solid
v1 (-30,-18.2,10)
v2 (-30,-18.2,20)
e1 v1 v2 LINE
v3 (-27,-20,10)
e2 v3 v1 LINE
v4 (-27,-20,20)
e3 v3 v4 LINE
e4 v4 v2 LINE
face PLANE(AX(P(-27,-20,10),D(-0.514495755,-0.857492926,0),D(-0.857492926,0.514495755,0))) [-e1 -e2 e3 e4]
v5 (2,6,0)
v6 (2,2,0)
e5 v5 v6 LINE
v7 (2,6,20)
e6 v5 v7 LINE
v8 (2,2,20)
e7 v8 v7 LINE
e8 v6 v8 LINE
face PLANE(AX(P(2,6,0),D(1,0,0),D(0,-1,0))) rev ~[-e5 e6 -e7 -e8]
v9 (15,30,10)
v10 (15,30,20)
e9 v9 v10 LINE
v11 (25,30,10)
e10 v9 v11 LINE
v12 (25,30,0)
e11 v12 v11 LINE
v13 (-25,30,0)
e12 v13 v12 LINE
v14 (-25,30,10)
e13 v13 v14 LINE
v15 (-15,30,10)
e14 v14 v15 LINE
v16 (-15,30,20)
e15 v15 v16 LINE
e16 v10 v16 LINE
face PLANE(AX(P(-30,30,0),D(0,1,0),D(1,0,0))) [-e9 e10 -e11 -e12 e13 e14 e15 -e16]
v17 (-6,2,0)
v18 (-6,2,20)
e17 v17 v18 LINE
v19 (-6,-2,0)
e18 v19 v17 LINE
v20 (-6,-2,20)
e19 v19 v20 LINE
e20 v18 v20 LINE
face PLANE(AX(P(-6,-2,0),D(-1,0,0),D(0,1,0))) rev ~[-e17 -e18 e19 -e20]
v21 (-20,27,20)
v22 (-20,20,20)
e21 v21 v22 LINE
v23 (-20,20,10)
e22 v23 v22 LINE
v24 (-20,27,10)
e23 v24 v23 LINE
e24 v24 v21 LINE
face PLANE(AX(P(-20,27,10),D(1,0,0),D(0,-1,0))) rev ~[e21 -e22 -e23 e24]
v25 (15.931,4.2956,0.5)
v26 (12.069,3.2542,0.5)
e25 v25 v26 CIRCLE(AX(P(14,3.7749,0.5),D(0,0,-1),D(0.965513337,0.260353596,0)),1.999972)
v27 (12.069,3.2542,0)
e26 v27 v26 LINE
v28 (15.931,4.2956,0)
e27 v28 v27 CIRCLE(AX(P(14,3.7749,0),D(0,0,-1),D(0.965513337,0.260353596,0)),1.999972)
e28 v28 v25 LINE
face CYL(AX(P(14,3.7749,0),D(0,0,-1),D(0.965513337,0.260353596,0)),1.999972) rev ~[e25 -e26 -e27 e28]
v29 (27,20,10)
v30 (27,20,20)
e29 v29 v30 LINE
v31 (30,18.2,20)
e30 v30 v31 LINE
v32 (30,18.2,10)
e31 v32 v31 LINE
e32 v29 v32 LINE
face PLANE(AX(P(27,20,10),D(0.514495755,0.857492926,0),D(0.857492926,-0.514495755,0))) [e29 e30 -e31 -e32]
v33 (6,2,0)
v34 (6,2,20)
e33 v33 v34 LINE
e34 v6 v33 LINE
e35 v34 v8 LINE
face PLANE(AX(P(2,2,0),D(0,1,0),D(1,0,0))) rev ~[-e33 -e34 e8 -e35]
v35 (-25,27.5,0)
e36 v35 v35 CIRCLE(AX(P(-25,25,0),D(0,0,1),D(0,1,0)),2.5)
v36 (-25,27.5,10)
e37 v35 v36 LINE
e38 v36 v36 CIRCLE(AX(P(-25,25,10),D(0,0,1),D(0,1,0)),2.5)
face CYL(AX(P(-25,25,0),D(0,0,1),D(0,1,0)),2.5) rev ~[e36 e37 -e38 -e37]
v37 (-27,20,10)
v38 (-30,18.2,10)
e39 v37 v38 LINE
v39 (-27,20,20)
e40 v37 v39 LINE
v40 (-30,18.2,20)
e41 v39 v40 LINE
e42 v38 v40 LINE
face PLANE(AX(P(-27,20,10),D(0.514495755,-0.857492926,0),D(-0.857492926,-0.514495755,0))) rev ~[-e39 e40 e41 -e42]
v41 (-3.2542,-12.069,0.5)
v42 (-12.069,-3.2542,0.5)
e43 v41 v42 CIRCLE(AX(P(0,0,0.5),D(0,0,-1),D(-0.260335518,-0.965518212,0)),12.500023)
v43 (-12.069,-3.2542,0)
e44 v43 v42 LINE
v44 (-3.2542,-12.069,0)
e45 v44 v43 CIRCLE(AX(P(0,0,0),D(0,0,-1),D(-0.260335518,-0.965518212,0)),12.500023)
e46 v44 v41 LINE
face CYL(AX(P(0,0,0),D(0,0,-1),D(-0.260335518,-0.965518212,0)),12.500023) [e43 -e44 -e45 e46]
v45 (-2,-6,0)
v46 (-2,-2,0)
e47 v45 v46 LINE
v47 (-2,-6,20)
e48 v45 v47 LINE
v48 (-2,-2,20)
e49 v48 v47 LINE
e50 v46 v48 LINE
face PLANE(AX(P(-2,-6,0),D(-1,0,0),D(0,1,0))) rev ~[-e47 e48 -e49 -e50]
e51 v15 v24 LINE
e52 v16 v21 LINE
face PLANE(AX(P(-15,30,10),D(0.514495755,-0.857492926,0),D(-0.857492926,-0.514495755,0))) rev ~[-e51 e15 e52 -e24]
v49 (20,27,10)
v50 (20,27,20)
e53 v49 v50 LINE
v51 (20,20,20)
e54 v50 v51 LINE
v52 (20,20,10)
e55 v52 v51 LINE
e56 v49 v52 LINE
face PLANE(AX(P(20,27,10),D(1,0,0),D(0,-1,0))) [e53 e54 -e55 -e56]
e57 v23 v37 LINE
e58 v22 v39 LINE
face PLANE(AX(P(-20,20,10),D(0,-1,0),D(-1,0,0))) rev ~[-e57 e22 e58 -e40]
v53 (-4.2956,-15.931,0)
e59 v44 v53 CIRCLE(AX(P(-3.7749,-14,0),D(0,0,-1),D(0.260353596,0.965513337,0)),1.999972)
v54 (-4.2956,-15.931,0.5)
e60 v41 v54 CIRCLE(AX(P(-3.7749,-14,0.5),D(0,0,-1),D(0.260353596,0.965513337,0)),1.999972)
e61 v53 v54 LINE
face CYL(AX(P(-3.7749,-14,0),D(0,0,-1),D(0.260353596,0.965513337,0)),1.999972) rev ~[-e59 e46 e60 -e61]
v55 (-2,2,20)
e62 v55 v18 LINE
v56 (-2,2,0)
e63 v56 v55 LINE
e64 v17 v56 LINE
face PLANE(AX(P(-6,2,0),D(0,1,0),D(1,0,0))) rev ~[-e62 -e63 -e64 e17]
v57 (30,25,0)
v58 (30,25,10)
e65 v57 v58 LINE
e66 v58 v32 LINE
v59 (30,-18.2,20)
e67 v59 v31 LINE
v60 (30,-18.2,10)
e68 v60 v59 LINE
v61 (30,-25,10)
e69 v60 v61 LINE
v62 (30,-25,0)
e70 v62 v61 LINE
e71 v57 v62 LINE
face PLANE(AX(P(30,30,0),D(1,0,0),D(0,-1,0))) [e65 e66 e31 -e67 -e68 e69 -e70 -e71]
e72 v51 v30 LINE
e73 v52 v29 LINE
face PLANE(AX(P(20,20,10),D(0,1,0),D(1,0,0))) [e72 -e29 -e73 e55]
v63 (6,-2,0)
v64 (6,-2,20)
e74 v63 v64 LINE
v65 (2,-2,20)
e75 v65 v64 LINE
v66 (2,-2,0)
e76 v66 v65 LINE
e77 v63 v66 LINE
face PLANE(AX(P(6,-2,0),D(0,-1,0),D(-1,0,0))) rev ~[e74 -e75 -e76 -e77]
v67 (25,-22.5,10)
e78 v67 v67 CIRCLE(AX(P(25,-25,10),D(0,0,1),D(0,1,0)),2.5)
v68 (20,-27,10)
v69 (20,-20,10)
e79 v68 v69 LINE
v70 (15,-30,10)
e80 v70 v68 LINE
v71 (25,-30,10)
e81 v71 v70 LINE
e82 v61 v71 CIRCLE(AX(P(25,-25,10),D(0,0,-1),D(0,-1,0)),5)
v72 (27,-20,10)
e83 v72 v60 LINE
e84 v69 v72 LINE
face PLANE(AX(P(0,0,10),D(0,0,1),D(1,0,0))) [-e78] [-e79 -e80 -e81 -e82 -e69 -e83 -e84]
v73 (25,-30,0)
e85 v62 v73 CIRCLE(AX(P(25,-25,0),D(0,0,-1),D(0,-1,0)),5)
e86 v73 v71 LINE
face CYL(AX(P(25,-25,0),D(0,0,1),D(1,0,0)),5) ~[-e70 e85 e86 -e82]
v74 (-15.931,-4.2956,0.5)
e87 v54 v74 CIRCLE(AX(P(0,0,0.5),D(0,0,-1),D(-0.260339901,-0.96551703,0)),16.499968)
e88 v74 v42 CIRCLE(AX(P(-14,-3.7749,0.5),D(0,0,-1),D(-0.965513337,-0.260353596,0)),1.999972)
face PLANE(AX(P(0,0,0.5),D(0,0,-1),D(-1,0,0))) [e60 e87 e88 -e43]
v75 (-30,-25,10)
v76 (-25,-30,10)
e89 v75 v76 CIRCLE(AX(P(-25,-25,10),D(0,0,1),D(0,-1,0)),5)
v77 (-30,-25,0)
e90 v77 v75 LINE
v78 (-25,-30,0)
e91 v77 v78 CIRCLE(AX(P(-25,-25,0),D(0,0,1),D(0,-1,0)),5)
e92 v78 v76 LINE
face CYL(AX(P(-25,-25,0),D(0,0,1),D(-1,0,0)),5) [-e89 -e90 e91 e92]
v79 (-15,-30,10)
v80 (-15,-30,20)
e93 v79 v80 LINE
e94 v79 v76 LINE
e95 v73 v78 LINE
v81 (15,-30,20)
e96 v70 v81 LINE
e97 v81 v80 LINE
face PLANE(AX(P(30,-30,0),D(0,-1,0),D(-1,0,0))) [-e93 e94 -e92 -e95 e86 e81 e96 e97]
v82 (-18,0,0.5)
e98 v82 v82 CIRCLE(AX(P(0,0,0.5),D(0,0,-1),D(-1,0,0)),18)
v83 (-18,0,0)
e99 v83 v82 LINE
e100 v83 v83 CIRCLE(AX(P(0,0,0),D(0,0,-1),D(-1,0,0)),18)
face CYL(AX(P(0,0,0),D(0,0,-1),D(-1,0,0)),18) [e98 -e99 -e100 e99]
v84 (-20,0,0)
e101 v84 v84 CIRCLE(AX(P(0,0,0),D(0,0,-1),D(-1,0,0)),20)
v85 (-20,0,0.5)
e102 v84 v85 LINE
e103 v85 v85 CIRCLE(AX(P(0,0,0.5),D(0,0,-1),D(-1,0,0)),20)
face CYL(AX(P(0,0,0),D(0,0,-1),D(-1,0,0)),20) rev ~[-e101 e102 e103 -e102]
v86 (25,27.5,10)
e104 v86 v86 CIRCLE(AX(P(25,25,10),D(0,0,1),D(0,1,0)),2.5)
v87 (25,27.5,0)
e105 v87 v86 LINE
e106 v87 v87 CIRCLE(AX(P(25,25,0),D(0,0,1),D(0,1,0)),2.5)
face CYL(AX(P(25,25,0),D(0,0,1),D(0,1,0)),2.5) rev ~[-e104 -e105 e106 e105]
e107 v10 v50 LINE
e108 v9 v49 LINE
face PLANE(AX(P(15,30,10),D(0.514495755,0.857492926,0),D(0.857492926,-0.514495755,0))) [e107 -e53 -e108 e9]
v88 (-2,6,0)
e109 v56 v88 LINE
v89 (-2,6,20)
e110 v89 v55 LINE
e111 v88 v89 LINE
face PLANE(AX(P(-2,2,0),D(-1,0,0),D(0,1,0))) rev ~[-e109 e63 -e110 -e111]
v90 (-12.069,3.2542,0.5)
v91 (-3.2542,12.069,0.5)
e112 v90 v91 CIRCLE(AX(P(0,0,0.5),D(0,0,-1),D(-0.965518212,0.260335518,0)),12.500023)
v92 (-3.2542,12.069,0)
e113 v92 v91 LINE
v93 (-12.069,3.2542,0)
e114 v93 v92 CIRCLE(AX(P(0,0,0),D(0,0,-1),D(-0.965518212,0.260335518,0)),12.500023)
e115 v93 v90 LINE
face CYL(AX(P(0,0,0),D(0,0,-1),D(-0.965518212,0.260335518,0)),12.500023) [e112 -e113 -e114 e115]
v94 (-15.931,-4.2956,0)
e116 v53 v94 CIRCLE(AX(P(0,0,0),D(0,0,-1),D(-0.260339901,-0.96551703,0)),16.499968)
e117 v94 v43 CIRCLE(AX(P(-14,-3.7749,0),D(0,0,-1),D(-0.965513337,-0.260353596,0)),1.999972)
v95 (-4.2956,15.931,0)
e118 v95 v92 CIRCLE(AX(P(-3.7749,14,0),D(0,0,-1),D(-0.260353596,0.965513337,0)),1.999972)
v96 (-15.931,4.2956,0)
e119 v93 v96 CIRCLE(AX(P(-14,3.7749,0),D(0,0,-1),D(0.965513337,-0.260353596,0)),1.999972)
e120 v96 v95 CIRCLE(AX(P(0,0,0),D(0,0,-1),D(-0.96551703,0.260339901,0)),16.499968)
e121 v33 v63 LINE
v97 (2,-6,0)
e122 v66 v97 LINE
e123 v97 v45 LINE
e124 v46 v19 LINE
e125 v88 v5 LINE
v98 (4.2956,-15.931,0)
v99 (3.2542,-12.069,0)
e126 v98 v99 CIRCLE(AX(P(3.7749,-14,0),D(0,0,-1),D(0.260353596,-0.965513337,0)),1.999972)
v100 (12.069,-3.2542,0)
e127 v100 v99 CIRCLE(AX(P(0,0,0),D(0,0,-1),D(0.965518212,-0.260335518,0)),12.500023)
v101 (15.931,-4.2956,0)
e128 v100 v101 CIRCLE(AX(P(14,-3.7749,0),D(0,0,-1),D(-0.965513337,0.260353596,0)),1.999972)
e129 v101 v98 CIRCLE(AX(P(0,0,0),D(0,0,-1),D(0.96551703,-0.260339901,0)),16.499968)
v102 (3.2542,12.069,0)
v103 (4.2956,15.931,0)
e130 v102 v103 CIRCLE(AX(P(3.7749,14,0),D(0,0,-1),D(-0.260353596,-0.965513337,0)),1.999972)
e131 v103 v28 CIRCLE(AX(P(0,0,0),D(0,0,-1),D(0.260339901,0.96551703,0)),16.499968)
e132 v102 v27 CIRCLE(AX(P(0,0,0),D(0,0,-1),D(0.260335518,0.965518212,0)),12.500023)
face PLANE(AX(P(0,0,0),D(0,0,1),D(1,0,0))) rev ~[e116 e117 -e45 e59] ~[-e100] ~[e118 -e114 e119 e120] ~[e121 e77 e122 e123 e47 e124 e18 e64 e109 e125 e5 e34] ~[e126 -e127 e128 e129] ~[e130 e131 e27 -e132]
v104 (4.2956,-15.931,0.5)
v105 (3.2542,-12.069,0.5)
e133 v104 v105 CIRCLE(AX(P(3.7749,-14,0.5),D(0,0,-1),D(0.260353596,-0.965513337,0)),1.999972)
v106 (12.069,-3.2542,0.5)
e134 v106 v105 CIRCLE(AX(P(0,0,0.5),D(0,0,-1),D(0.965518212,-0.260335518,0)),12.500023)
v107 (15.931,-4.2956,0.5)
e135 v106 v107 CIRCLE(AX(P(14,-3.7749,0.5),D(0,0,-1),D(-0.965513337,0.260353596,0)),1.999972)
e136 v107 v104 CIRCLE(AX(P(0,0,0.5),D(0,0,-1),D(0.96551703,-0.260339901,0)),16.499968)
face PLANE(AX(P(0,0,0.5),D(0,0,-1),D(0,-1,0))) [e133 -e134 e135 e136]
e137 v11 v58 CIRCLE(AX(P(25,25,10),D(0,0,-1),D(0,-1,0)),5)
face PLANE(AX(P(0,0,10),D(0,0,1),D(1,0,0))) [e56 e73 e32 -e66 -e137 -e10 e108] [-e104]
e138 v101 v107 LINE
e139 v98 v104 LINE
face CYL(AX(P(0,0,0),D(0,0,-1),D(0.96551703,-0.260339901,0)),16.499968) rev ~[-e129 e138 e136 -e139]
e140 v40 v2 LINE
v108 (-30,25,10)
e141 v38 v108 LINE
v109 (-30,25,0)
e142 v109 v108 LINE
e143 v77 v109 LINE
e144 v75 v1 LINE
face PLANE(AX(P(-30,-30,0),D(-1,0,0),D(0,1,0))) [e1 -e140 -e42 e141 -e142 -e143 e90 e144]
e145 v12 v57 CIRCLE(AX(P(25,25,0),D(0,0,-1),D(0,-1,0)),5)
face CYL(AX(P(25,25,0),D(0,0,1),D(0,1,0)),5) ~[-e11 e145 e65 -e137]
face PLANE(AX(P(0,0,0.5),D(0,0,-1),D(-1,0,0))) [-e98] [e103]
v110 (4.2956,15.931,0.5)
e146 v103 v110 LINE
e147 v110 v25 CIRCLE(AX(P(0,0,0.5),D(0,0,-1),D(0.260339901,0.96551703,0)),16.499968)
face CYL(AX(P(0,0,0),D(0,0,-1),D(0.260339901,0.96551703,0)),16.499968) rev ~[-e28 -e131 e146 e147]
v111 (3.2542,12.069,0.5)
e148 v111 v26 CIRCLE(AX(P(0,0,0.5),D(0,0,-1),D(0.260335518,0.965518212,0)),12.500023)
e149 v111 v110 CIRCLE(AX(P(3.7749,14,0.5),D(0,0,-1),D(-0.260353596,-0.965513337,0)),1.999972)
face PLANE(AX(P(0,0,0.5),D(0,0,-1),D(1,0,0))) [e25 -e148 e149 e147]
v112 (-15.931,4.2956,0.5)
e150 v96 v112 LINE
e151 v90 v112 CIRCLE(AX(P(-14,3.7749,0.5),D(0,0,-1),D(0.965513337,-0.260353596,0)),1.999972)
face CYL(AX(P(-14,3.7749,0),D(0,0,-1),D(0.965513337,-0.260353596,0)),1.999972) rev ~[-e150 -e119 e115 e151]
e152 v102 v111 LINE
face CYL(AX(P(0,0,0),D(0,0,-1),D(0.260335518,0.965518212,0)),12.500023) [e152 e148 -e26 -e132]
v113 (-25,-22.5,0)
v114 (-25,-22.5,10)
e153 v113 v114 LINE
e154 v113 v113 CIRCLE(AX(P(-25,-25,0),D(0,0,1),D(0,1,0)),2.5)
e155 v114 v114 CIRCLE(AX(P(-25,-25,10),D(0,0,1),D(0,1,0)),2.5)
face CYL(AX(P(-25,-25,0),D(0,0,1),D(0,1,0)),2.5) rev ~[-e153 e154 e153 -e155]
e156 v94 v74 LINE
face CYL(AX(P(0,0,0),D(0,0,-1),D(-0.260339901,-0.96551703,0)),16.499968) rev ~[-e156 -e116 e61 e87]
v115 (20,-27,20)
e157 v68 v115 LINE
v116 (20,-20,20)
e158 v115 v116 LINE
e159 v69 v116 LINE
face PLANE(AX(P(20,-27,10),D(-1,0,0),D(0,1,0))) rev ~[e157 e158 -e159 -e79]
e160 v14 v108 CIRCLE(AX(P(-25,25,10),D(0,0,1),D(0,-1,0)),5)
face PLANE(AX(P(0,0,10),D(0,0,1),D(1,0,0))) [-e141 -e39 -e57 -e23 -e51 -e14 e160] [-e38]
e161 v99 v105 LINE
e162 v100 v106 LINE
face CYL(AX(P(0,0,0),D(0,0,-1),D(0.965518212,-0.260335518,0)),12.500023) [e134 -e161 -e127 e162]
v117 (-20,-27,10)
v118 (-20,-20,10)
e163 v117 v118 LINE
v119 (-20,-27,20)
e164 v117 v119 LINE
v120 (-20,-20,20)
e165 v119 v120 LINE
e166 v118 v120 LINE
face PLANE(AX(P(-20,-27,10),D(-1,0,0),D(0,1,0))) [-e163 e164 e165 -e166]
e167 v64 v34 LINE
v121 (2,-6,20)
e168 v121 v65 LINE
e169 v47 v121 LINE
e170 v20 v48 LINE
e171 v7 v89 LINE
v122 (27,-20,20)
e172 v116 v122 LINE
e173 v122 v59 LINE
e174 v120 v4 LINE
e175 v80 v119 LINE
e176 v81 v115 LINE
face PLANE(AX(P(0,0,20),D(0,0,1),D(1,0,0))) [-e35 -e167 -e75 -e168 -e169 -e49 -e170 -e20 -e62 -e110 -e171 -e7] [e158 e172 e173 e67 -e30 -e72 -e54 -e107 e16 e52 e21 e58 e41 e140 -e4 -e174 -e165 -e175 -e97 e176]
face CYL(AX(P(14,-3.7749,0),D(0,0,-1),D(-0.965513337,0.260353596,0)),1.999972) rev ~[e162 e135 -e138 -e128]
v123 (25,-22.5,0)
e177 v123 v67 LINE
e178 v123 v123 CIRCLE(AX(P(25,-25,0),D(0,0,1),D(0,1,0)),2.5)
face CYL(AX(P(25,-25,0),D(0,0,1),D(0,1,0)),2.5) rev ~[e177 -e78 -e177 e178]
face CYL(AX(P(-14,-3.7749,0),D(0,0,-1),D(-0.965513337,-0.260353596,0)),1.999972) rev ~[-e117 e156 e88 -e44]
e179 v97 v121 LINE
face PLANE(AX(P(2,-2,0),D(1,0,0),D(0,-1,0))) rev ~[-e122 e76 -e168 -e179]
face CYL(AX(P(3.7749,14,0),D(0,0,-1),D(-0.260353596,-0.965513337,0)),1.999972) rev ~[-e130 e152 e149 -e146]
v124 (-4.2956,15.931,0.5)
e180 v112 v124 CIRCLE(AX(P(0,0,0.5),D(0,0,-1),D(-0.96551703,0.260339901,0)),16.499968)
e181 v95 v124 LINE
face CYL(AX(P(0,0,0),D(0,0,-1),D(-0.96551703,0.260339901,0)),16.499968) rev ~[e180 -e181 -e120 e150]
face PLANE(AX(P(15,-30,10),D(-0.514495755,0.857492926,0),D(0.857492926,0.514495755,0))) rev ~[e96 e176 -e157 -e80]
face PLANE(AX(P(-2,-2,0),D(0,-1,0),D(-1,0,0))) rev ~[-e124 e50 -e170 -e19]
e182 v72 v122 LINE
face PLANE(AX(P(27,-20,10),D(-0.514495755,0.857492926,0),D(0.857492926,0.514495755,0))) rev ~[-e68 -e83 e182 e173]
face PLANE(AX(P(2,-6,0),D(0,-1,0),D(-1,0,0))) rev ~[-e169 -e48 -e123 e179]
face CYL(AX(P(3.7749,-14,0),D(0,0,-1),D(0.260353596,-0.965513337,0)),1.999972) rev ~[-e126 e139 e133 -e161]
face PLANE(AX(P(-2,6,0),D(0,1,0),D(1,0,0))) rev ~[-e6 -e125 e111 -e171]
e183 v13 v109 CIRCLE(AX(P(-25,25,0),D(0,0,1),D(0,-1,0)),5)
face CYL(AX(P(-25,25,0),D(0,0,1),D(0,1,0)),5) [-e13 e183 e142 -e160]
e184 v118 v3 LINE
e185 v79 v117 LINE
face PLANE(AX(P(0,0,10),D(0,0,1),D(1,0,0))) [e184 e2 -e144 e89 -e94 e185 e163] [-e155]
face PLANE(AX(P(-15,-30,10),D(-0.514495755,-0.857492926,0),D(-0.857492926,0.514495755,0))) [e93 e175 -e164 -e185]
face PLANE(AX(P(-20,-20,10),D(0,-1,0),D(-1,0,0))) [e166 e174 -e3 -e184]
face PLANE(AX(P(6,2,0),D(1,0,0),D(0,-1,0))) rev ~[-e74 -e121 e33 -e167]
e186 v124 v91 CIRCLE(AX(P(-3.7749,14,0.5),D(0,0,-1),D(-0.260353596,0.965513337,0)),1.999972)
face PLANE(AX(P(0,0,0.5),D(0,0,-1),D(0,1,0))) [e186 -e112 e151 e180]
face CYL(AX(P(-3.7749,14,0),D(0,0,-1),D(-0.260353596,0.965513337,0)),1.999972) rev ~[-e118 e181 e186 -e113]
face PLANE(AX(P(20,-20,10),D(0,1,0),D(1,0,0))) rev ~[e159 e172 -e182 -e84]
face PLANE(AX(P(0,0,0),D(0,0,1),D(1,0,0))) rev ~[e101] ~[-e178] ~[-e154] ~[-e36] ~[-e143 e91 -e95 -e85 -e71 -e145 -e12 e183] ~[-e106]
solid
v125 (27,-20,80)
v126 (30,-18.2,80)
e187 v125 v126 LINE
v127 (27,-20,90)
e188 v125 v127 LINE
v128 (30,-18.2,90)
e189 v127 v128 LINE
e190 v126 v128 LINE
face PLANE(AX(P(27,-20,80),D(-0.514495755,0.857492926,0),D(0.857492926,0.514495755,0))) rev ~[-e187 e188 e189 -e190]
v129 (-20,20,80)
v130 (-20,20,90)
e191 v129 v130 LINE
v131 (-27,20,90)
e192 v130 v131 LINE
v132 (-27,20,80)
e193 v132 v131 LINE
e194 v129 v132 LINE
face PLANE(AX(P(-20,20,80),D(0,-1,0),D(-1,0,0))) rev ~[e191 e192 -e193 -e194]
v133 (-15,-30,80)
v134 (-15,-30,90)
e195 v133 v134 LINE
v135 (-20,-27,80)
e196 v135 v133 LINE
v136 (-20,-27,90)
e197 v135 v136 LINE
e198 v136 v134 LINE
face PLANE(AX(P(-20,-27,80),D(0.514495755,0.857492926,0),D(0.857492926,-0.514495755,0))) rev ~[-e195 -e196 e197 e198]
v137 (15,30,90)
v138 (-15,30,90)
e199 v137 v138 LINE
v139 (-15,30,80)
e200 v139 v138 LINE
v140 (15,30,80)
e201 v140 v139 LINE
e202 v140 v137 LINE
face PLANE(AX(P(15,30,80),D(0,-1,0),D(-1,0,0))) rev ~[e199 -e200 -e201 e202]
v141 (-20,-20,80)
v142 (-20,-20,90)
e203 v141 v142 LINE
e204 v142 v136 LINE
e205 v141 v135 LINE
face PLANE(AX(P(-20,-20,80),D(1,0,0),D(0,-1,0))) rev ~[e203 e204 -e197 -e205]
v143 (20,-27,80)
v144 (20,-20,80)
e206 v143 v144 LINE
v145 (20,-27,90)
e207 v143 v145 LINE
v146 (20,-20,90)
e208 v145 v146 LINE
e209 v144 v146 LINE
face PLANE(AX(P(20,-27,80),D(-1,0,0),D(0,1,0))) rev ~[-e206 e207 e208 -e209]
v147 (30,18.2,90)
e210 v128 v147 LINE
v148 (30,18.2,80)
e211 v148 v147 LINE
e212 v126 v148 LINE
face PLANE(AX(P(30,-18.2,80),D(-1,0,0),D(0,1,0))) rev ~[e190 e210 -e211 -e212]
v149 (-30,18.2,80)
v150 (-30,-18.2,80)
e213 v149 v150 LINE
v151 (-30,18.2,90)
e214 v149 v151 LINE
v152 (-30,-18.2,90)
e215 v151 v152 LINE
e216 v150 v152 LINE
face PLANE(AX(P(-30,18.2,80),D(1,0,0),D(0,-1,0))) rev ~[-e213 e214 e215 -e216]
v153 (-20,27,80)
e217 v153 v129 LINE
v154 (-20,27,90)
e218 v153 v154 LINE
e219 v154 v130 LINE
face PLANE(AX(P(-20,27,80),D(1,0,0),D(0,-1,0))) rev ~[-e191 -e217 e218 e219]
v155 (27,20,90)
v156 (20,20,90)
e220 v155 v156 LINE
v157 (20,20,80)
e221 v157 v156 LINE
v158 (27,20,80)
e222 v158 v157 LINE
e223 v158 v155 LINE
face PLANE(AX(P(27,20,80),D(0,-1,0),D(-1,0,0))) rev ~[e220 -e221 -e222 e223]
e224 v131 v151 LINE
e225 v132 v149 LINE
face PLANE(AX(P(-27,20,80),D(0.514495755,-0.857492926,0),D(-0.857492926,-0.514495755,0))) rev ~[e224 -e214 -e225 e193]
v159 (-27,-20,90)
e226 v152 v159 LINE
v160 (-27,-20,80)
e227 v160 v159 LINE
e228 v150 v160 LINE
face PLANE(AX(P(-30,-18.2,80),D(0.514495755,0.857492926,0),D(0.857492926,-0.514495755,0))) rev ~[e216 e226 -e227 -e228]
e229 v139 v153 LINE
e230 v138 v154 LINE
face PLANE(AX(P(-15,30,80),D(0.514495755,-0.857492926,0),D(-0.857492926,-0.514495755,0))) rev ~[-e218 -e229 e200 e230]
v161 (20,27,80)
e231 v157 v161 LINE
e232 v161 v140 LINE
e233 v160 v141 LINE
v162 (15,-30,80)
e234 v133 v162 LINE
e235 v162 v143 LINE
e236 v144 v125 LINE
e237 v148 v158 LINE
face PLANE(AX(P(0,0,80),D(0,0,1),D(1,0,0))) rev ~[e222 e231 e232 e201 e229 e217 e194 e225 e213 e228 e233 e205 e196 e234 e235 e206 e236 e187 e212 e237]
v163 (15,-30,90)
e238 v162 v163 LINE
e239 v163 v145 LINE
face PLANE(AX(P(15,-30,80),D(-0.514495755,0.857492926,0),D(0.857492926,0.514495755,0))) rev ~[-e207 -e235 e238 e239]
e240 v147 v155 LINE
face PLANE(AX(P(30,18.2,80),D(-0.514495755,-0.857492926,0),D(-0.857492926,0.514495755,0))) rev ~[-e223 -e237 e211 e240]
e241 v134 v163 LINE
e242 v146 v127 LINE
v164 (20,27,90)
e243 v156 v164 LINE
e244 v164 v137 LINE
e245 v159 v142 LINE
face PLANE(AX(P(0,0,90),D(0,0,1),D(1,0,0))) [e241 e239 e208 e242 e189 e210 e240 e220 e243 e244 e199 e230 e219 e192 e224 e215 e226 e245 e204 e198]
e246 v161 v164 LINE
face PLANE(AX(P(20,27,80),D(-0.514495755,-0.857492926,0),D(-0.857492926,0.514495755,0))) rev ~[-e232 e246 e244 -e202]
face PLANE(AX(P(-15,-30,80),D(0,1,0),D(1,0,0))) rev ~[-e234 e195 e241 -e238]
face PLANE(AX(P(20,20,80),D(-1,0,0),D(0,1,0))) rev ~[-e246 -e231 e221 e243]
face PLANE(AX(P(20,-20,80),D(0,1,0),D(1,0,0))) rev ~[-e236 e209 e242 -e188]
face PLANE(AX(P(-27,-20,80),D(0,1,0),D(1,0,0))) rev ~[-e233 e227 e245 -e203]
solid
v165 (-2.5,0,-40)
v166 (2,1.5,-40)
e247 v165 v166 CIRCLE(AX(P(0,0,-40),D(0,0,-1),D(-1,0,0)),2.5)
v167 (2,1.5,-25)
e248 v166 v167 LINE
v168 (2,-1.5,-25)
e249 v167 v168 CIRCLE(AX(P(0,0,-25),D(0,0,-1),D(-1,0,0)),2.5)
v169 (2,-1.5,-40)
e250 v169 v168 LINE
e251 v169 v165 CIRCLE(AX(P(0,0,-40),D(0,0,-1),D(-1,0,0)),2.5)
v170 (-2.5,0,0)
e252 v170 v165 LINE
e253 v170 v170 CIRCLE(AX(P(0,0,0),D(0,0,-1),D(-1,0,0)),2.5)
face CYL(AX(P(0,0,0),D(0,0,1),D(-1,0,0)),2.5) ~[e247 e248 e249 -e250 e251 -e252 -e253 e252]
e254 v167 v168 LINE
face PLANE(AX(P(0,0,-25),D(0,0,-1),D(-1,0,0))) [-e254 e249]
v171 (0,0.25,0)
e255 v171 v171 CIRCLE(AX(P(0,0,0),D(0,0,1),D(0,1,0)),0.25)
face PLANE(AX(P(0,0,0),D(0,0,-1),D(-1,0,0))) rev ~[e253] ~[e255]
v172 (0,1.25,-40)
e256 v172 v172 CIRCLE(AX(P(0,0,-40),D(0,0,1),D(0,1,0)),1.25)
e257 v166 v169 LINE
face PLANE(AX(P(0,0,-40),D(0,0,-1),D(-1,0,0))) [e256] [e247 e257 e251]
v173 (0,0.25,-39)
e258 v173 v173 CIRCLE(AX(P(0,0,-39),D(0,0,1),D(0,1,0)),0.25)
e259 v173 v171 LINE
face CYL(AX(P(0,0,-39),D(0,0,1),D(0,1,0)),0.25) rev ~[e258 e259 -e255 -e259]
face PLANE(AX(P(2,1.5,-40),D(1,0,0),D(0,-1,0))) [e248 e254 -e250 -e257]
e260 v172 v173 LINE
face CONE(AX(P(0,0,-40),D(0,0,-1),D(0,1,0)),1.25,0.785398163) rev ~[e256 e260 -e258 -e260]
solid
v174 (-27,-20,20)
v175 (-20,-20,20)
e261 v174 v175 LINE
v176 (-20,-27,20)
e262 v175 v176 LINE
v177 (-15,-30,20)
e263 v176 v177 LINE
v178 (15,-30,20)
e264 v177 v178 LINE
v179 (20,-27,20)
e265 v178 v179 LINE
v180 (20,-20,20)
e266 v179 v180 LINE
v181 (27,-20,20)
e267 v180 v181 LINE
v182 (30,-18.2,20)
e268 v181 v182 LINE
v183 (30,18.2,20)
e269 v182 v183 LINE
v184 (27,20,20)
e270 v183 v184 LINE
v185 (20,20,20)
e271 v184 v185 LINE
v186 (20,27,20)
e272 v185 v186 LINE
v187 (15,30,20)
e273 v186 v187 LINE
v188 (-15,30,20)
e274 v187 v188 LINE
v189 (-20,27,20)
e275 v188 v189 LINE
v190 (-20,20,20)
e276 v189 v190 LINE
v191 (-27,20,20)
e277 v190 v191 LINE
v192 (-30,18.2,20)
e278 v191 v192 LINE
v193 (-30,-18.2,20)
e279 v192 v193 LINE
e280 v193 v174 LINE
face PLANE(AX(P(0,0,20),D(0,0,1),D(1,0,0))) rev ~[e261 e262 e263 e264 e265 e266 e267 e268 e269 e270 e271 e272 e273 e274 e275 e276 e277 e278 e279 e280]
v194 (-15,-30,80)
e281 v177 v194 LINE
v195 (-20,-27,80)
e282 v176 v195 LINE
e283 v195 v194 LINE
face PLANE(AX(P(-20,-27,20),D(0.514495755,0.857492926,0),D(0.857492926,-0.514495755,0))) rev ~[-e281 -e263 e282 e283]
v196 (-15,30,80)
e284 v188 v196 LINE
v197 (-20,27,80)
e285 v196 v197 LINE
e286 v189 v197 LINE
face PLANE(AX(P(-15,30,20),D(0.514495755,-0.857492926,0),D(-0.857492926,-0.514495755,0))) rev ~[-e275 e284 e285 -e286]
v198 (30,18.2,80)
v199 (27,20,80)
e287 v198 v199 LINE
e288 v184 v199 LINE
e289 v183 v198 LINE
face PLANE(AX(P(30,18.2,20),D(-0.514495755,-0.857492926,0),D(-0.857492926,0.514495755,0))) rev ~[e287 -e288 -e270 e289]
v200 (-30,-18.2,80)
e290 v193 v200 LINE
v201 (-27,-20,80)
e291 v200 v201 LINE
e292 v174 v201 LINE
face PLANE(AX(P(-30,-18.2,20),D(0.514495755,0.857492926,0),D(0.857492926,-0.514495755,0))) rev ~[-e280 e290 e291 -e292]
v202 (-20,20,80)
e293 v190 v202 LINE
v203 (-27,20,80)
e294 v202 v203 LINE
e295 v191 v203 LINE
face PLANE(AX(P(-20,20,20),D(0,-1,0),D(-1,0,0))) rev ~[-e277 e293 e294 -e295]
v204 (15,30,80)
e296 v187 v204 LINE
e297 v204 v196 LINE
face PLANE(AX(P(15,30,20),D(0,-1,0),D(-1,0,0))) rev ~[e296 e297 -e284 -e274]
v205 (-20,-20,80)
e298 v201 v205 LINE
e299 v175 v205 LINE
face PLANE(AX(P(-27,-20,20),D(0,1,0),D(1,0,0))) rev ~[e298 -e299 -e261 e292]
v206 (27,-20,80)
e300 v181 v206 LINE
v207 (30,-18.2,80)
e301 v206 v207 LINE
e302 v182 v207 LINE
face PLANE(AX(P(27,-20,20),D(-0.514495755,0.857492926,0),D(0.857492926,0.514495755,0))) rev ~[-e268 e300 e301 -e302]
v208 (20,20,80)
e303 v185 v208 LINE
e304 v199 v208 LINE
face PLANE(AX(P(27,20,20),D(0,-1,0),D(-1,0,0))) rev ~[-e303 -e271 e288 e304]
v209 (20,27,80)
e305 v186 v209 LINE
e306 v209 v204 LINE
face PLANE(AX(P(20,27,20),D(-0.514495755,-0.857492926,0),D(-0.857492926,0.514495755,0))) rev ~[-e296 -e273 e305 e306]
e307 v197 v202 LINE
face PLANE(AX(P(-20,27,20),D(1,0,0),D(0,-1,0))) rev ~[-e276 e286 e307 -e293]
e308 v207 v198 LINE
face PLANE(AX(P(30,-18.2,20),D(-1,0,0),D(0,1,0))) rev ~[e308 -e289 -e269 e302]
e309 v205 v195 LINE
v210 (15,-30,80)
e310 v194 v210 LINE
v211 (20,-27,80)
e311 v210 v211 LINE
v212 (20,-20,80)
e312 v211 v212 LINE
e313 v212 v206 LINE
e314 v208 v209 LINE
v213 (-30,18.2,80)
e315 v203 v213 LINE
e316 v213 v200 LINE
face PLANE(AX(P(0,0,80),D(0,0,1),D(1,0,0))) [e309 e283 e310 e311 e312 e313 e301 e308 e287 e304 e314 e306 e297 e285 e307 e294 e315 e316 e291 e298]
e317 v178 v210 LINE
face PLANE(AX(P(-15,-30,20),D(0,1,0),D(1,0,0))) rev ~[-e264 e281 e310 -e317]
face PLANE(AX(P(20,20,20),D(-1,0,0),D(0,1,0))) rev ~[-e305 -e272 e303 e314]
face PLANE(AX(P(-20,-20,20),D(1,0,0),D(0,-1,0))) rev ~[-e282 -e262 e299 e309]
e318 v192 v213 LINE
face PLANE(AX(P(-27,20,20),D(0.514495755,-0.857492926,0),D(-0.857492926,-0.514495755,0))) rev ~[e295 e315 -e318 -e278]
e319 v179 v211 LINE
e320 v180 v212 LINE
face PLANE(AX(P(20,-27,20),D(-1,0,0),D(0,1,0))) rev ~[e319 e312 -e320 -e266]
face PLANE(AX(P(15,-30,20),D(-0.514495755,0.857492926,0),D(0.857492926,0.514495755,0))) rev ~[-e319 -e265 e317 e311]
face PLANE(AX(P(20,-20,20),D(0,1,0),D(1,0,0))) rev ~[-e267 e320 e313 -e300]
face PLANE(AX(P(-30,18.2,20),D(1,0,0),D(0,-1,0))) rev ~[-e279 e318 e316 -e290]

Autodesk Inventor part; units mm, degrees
ref_plane "XZ Plane" through (0, 0, 0) normal (0, 1, 0) x (-1, 0, 0)
ref_plane "XY Plane" through (0, 0, 0) normal (0, 0, 1) x (1, 0, 0)
sketch "Sketch1" plane through (0, 0, 0) normal (0, 0, 1) x (1, 0, 0)
  line L0 (-30, 30) -> (30, 30)
  line L1 (30, 30) -> (30, -30)
  line L2 (30, -30) -> (-30, -30)
  line L3 (-30, -30) -> (-30, 30)
  line L4 (-30, 30) -> (30, -30) construction
  line L5 (30, 30) -> (-30, -30) construction
  point P0 (0, 0)
  dimension "d0" = 60
  dimension "d1" = 60
extrude "Extrusion1" add sketch "Sketch1" along normal blind 10
sketch "Sketch2" plane through (0, 0, 10) normal (0, 0, 1) x (1, 0, 0)
  line L0 (-30, -30) -> (30, -30) projected
  line L1 (30, -30) -> (30, 30) projected
  line L2 (30, 30) -> (-30, 30) projected
  line L3 (-30, 30) -> (-30, -30) projected
  line L4 (30, 30) -> (-30, 30) projected
  line L5 (0, 30) -> (-15, 30)
  line L6 (-15, 30) -> (-20, 27)
  line L7 (-20, 27) -> (-20, 20)
  line L8 (-20, 20) -> (-27, 20)
  line L9 (-27, 20) -> (-30, 18.2)
  line L10 (-30, 30) -> (-30, -30) projected
  line L11 (0, 30) -> (0, 0)
  line L12 (0, 0) -> (-30, 0)
  line L13 (15, 30) -> (20, 27)
  line L14 (20, 27) -> (20, 20)
  line L15 (20, 20) -> (27, 20)
  line L16 (27, 20) -> (30, 18.2)
  line L17 (0, -30) -> (-15, -30)
  line L18 (-15, -30) -> (-20, -27)
  line L19 (-20, -27) -> (-20, -20)
  line L20 (-20, -20) -> (-27, -20)
  line L21 (-27, -20) -> (-30, -18.2)
  line L22 (15, -30) -> (20, -27)
  line L23 (20, -27) -> (20, -20)
  line L24 (20, -20) -> (27, -20)
  line L25 (27, -20) -> (30, -18.2)
  dimension "d4" = 15
  dimension "d5" = 3
  dimension "d6" = 5
  dimension "d7" = 10
  dimension "d8" = 3
extrude "Extrusion2" add sketch "Sketch2" along normal blind 10 contours L18 L19 L20 L21 L3 L12 L11 L2 L13 L14 L15 L16 L1 L25 L24 L23 L22 L0 | L3 L9 L8 L7 L6 L2 L11 L12
sketch "Sketch3" plane through (0, 0, 20) normal (0, 0, 1) x (1, 0, 0)
  line L0 (-27, 20) -> (-30, 18.2) projected
  line L1 (-30, 18.2) -> (-30, -18.2) projected
  line L2 (-30, -18.2) -> (-27, -20) projected
  line L3 (-27, -20) -> (-20, -20) projected
  line L4 (-20, -20) -> (-20, -27) projected
  line L5 (-20, -27) -> (-15, -30) projected
  line L6 (-15, -30) -> (15, -30) projected
  line L7 (15, -30) -> (20, -27) projected
  line L8 (20, -27) -> (20, -20) projected
  line L9 (20, -20) -> (27, -20) projected
  line L10 (27, -20) -> (30, -18.2) projected
  line L11 (30, -18.2) -> (30, 18.2) projected
  line L12 (30, 18.2) -> (27, 20) projected
  line L13 (27, 20) -> (20, 20) projected
  line L14 (20, 20) -> (20, 27) projected
  line L15 (20, 27) -> (15, 30) projected
  line L16 (15, 30) -> (-15, 30) projected
  line L17 (-15, 30) -> (-20, 27) projected
  line L18 (-20, 27) -> (-20, 20) projected
  line L19 (-20, 20) -> (-27, 20) projected
  point P0 (0, 0)
extrude "Extrusion3" add sketch "Sketch3" along normal blind 60 separate body
sketch "Sketch4" plane through (0, 0, 80) normal (0, 0, 1) x (1, 0, 0)
  line L0 (-30, 18.2) -> (-30, -18.2) projected
  line L1 (-30, -18.2) -> (-27, -20) projected
  line L2 (-27, -20) -> (-20, -20) projected
  line L3 (-20, -20) -> (-20, -27) projected
  line L4 (-20, -27) -> (-15, -30) projected
  line L5 (-15, -30) -> (15, -30) projected
  line L6 (15, -30) -> (20, -27) projected
  line L7 (20, -27) -> (20, -20) projected
  line L8 (20, -20) -> (27, -20) projected
  line L9 (27, -20) -> (30, -18.2) projected
  line L10 (30, -18.2) -> (30, 18.2) projected
  line L11 (30, 18.2) -> (27, 20) projected
  line L12 (27, 20) -> (20, 20) projected
  line L13 (20, 20) -> (20, 27) projected
  line L14 (20, 27) -> (15, 30) projected
  line L15 (15, 30) -> (-15, 30) projected
  line L16 (-15, 30) -> (-20, 27) projected
  line L17 (-20, 27) -> (-20, 20) projected
  line L18 (-20, 20) -> (-27, 20) projected
  line L19 (-27, 20) -> (-30, 18.2) projected
  point P0 (0, 0)
extrude "Extrusion4" add sketch "Sketch4" along normal blind 10 separate body
fillet "Fillet1" radius 5 4 edges at (30, 30, 5) (30, -30, 5) (-30, 30, 5) (-30, -30, 5)
sketch "Sketch5" plane through (0, 0, 0) normal (0, 0, -1) x (-1, 0, 0)
  line L0 (-25, -25) -> (25, -25) construction
  line L1 (25, -25) -> (25, 25) construction
  line L2 (25, 25) -> (-25, 25) construction
  line L3 (-25, 25) -> (-25, -25) construction
  line L4 (-25, -25) -> (25, 25) construction
  line L5 (25, -25) -> (-25, 25) construction
  point P0 (0, 0)
  dimension "d16" = 50
  dimension "d17" = 50
hole "Hole1" at (-25, 25, 0) at (-25, -25, 0) at (25, 25, 0) at (25, -25, 0) direction (0, 0, 1) diameter 5 end through all bodies 1
sketch "Sketch6" plane through (0, 0, 0) normal (0, 0, -1) x (-1, 0, 0)
  circle A0 centre (0, 0) radius 20
  circle A1 centre (0, 0) radius 18
  dimension "d25" = 40
  dimension "d26" = 36
extrude "Extrusion5" cut sketch "Sketch6" against normal blind 0.5 bodies 1
sketch "Sketch7" plane through (0, 0, 0) normal (0, 0, -1) x (-1, 0, 0)
  circle A0 centre (0, 0) radius 2.5
  line L0 (-6, -2) -> (6, -2)
  line L1 (6, -2) -> (6, 2)
  line L2 (6, 2) -> (-6, 2)
  line L3 (-6, 2) -> (-6, -2)
  line L4 (-6, -2) -> (6, 2) construction
  line L5 (6, -2) -> (-6, 2) construction
  line L6 (-2, -6) -> (2, -6)
  line L7 (2, -6) -> (2, 6)
  line L8 (2, 6) -> (-2, 6)
  line L9 (-2, 6) -> (-2, -6)
  line L10 (-2, -6) -> (2, 6) construction
  line L11 (2, -6) -> (-2, 6) construction
  point P0 (2, 2)
  point P1 (-2, 2)
  point P2 (-2, -2)
  point P3 (2, -2)
  dimension "d29" = 5
  dimension "d30" = 12
  dimension "d31" = 4
  dimension "d32" = 4
  dimension "d33" = 12
extrude "Extrusion6" cut sketch "Sketch7" against normal through all bodies 1
sketch "Sketch8" plane through (0, 0, 0) normal (0, 0, -1) x (-1, 0, 0)
  circle A0 centre (0, 0) radius 2.5
  dimension "d36" = 5
extrude "Extrusion7" add sketch "Sketch8" along normal blind 40 bodies 1
sketch "Sketch9" plane through (0, 0, -40) normal (0, 0, -1) x (-1, 0, 0)
  circle A0 centre (0, 0) radius 2.5 projected
  line L0 (-2, 1.5) -> (-2, -1.5)
  dimension "d39" = 2
extrude "Extrusion8" cut sketch "Sketch9" against normal blind 15 contours L0 A0 picked at (-2.0912, -0.3466) bodies 1
sketch "Sketch10" plane through (0, 0, -40) normal (0, 0, -1) x (-1, 0, 0)
  circle A0 centre (0, 0) radius 2.5 projected
hole "Hole2" at (0, 0, -40) direction (0, 0, 1) diameter 0.5 end through all countersink diameter 2.5 countersink angle 90 bodies 1
sketch "Sketch11" plane through (0, 0, 0) normal (0, 0, -1) x (-1, 0, 0)
  circle A0 centre (0, 0) radius 2.5 projected
  arc A1 (3.7749, -14) -> (14, -3.7749) centre (0, 0) ccw construction
  arc A2 (4.2956, -15.931) -> (15.931, -4.2956) centre (0, 0) ccw
  arc A3 (3.2542, -12.069) -> (12.069, -3.2542) centre (0, 0) ccw
  arc A4 (3.2542, -12.069) -> (4.2956, -15.931) centre (3.7749, -14) ccw
  arc A5 (15.931, -4.2956) -> (12.069, -3.2542) centre (14, -3.7749) ccw
  dimension "d49" = 14.5
  dimension "d50" = 14
  dimension "d51" = 14
  dimension "d52" = 2
extrude "Extrusion9" cut sketch "Sketch11" against normal blind 0.5 contours A4 A3 A5 A2 bodies 1
pattern_circular "Circular Pattern1" count 4 over 360 about axis through (0, 0, 0) along (0, 0, 1) of "Extrusion9" bodies 1
ref_plane "Work Plane1" through (0, 0, 0) normal (1, 0, 0) x (0, 1, 0)
properties part number "servo"
